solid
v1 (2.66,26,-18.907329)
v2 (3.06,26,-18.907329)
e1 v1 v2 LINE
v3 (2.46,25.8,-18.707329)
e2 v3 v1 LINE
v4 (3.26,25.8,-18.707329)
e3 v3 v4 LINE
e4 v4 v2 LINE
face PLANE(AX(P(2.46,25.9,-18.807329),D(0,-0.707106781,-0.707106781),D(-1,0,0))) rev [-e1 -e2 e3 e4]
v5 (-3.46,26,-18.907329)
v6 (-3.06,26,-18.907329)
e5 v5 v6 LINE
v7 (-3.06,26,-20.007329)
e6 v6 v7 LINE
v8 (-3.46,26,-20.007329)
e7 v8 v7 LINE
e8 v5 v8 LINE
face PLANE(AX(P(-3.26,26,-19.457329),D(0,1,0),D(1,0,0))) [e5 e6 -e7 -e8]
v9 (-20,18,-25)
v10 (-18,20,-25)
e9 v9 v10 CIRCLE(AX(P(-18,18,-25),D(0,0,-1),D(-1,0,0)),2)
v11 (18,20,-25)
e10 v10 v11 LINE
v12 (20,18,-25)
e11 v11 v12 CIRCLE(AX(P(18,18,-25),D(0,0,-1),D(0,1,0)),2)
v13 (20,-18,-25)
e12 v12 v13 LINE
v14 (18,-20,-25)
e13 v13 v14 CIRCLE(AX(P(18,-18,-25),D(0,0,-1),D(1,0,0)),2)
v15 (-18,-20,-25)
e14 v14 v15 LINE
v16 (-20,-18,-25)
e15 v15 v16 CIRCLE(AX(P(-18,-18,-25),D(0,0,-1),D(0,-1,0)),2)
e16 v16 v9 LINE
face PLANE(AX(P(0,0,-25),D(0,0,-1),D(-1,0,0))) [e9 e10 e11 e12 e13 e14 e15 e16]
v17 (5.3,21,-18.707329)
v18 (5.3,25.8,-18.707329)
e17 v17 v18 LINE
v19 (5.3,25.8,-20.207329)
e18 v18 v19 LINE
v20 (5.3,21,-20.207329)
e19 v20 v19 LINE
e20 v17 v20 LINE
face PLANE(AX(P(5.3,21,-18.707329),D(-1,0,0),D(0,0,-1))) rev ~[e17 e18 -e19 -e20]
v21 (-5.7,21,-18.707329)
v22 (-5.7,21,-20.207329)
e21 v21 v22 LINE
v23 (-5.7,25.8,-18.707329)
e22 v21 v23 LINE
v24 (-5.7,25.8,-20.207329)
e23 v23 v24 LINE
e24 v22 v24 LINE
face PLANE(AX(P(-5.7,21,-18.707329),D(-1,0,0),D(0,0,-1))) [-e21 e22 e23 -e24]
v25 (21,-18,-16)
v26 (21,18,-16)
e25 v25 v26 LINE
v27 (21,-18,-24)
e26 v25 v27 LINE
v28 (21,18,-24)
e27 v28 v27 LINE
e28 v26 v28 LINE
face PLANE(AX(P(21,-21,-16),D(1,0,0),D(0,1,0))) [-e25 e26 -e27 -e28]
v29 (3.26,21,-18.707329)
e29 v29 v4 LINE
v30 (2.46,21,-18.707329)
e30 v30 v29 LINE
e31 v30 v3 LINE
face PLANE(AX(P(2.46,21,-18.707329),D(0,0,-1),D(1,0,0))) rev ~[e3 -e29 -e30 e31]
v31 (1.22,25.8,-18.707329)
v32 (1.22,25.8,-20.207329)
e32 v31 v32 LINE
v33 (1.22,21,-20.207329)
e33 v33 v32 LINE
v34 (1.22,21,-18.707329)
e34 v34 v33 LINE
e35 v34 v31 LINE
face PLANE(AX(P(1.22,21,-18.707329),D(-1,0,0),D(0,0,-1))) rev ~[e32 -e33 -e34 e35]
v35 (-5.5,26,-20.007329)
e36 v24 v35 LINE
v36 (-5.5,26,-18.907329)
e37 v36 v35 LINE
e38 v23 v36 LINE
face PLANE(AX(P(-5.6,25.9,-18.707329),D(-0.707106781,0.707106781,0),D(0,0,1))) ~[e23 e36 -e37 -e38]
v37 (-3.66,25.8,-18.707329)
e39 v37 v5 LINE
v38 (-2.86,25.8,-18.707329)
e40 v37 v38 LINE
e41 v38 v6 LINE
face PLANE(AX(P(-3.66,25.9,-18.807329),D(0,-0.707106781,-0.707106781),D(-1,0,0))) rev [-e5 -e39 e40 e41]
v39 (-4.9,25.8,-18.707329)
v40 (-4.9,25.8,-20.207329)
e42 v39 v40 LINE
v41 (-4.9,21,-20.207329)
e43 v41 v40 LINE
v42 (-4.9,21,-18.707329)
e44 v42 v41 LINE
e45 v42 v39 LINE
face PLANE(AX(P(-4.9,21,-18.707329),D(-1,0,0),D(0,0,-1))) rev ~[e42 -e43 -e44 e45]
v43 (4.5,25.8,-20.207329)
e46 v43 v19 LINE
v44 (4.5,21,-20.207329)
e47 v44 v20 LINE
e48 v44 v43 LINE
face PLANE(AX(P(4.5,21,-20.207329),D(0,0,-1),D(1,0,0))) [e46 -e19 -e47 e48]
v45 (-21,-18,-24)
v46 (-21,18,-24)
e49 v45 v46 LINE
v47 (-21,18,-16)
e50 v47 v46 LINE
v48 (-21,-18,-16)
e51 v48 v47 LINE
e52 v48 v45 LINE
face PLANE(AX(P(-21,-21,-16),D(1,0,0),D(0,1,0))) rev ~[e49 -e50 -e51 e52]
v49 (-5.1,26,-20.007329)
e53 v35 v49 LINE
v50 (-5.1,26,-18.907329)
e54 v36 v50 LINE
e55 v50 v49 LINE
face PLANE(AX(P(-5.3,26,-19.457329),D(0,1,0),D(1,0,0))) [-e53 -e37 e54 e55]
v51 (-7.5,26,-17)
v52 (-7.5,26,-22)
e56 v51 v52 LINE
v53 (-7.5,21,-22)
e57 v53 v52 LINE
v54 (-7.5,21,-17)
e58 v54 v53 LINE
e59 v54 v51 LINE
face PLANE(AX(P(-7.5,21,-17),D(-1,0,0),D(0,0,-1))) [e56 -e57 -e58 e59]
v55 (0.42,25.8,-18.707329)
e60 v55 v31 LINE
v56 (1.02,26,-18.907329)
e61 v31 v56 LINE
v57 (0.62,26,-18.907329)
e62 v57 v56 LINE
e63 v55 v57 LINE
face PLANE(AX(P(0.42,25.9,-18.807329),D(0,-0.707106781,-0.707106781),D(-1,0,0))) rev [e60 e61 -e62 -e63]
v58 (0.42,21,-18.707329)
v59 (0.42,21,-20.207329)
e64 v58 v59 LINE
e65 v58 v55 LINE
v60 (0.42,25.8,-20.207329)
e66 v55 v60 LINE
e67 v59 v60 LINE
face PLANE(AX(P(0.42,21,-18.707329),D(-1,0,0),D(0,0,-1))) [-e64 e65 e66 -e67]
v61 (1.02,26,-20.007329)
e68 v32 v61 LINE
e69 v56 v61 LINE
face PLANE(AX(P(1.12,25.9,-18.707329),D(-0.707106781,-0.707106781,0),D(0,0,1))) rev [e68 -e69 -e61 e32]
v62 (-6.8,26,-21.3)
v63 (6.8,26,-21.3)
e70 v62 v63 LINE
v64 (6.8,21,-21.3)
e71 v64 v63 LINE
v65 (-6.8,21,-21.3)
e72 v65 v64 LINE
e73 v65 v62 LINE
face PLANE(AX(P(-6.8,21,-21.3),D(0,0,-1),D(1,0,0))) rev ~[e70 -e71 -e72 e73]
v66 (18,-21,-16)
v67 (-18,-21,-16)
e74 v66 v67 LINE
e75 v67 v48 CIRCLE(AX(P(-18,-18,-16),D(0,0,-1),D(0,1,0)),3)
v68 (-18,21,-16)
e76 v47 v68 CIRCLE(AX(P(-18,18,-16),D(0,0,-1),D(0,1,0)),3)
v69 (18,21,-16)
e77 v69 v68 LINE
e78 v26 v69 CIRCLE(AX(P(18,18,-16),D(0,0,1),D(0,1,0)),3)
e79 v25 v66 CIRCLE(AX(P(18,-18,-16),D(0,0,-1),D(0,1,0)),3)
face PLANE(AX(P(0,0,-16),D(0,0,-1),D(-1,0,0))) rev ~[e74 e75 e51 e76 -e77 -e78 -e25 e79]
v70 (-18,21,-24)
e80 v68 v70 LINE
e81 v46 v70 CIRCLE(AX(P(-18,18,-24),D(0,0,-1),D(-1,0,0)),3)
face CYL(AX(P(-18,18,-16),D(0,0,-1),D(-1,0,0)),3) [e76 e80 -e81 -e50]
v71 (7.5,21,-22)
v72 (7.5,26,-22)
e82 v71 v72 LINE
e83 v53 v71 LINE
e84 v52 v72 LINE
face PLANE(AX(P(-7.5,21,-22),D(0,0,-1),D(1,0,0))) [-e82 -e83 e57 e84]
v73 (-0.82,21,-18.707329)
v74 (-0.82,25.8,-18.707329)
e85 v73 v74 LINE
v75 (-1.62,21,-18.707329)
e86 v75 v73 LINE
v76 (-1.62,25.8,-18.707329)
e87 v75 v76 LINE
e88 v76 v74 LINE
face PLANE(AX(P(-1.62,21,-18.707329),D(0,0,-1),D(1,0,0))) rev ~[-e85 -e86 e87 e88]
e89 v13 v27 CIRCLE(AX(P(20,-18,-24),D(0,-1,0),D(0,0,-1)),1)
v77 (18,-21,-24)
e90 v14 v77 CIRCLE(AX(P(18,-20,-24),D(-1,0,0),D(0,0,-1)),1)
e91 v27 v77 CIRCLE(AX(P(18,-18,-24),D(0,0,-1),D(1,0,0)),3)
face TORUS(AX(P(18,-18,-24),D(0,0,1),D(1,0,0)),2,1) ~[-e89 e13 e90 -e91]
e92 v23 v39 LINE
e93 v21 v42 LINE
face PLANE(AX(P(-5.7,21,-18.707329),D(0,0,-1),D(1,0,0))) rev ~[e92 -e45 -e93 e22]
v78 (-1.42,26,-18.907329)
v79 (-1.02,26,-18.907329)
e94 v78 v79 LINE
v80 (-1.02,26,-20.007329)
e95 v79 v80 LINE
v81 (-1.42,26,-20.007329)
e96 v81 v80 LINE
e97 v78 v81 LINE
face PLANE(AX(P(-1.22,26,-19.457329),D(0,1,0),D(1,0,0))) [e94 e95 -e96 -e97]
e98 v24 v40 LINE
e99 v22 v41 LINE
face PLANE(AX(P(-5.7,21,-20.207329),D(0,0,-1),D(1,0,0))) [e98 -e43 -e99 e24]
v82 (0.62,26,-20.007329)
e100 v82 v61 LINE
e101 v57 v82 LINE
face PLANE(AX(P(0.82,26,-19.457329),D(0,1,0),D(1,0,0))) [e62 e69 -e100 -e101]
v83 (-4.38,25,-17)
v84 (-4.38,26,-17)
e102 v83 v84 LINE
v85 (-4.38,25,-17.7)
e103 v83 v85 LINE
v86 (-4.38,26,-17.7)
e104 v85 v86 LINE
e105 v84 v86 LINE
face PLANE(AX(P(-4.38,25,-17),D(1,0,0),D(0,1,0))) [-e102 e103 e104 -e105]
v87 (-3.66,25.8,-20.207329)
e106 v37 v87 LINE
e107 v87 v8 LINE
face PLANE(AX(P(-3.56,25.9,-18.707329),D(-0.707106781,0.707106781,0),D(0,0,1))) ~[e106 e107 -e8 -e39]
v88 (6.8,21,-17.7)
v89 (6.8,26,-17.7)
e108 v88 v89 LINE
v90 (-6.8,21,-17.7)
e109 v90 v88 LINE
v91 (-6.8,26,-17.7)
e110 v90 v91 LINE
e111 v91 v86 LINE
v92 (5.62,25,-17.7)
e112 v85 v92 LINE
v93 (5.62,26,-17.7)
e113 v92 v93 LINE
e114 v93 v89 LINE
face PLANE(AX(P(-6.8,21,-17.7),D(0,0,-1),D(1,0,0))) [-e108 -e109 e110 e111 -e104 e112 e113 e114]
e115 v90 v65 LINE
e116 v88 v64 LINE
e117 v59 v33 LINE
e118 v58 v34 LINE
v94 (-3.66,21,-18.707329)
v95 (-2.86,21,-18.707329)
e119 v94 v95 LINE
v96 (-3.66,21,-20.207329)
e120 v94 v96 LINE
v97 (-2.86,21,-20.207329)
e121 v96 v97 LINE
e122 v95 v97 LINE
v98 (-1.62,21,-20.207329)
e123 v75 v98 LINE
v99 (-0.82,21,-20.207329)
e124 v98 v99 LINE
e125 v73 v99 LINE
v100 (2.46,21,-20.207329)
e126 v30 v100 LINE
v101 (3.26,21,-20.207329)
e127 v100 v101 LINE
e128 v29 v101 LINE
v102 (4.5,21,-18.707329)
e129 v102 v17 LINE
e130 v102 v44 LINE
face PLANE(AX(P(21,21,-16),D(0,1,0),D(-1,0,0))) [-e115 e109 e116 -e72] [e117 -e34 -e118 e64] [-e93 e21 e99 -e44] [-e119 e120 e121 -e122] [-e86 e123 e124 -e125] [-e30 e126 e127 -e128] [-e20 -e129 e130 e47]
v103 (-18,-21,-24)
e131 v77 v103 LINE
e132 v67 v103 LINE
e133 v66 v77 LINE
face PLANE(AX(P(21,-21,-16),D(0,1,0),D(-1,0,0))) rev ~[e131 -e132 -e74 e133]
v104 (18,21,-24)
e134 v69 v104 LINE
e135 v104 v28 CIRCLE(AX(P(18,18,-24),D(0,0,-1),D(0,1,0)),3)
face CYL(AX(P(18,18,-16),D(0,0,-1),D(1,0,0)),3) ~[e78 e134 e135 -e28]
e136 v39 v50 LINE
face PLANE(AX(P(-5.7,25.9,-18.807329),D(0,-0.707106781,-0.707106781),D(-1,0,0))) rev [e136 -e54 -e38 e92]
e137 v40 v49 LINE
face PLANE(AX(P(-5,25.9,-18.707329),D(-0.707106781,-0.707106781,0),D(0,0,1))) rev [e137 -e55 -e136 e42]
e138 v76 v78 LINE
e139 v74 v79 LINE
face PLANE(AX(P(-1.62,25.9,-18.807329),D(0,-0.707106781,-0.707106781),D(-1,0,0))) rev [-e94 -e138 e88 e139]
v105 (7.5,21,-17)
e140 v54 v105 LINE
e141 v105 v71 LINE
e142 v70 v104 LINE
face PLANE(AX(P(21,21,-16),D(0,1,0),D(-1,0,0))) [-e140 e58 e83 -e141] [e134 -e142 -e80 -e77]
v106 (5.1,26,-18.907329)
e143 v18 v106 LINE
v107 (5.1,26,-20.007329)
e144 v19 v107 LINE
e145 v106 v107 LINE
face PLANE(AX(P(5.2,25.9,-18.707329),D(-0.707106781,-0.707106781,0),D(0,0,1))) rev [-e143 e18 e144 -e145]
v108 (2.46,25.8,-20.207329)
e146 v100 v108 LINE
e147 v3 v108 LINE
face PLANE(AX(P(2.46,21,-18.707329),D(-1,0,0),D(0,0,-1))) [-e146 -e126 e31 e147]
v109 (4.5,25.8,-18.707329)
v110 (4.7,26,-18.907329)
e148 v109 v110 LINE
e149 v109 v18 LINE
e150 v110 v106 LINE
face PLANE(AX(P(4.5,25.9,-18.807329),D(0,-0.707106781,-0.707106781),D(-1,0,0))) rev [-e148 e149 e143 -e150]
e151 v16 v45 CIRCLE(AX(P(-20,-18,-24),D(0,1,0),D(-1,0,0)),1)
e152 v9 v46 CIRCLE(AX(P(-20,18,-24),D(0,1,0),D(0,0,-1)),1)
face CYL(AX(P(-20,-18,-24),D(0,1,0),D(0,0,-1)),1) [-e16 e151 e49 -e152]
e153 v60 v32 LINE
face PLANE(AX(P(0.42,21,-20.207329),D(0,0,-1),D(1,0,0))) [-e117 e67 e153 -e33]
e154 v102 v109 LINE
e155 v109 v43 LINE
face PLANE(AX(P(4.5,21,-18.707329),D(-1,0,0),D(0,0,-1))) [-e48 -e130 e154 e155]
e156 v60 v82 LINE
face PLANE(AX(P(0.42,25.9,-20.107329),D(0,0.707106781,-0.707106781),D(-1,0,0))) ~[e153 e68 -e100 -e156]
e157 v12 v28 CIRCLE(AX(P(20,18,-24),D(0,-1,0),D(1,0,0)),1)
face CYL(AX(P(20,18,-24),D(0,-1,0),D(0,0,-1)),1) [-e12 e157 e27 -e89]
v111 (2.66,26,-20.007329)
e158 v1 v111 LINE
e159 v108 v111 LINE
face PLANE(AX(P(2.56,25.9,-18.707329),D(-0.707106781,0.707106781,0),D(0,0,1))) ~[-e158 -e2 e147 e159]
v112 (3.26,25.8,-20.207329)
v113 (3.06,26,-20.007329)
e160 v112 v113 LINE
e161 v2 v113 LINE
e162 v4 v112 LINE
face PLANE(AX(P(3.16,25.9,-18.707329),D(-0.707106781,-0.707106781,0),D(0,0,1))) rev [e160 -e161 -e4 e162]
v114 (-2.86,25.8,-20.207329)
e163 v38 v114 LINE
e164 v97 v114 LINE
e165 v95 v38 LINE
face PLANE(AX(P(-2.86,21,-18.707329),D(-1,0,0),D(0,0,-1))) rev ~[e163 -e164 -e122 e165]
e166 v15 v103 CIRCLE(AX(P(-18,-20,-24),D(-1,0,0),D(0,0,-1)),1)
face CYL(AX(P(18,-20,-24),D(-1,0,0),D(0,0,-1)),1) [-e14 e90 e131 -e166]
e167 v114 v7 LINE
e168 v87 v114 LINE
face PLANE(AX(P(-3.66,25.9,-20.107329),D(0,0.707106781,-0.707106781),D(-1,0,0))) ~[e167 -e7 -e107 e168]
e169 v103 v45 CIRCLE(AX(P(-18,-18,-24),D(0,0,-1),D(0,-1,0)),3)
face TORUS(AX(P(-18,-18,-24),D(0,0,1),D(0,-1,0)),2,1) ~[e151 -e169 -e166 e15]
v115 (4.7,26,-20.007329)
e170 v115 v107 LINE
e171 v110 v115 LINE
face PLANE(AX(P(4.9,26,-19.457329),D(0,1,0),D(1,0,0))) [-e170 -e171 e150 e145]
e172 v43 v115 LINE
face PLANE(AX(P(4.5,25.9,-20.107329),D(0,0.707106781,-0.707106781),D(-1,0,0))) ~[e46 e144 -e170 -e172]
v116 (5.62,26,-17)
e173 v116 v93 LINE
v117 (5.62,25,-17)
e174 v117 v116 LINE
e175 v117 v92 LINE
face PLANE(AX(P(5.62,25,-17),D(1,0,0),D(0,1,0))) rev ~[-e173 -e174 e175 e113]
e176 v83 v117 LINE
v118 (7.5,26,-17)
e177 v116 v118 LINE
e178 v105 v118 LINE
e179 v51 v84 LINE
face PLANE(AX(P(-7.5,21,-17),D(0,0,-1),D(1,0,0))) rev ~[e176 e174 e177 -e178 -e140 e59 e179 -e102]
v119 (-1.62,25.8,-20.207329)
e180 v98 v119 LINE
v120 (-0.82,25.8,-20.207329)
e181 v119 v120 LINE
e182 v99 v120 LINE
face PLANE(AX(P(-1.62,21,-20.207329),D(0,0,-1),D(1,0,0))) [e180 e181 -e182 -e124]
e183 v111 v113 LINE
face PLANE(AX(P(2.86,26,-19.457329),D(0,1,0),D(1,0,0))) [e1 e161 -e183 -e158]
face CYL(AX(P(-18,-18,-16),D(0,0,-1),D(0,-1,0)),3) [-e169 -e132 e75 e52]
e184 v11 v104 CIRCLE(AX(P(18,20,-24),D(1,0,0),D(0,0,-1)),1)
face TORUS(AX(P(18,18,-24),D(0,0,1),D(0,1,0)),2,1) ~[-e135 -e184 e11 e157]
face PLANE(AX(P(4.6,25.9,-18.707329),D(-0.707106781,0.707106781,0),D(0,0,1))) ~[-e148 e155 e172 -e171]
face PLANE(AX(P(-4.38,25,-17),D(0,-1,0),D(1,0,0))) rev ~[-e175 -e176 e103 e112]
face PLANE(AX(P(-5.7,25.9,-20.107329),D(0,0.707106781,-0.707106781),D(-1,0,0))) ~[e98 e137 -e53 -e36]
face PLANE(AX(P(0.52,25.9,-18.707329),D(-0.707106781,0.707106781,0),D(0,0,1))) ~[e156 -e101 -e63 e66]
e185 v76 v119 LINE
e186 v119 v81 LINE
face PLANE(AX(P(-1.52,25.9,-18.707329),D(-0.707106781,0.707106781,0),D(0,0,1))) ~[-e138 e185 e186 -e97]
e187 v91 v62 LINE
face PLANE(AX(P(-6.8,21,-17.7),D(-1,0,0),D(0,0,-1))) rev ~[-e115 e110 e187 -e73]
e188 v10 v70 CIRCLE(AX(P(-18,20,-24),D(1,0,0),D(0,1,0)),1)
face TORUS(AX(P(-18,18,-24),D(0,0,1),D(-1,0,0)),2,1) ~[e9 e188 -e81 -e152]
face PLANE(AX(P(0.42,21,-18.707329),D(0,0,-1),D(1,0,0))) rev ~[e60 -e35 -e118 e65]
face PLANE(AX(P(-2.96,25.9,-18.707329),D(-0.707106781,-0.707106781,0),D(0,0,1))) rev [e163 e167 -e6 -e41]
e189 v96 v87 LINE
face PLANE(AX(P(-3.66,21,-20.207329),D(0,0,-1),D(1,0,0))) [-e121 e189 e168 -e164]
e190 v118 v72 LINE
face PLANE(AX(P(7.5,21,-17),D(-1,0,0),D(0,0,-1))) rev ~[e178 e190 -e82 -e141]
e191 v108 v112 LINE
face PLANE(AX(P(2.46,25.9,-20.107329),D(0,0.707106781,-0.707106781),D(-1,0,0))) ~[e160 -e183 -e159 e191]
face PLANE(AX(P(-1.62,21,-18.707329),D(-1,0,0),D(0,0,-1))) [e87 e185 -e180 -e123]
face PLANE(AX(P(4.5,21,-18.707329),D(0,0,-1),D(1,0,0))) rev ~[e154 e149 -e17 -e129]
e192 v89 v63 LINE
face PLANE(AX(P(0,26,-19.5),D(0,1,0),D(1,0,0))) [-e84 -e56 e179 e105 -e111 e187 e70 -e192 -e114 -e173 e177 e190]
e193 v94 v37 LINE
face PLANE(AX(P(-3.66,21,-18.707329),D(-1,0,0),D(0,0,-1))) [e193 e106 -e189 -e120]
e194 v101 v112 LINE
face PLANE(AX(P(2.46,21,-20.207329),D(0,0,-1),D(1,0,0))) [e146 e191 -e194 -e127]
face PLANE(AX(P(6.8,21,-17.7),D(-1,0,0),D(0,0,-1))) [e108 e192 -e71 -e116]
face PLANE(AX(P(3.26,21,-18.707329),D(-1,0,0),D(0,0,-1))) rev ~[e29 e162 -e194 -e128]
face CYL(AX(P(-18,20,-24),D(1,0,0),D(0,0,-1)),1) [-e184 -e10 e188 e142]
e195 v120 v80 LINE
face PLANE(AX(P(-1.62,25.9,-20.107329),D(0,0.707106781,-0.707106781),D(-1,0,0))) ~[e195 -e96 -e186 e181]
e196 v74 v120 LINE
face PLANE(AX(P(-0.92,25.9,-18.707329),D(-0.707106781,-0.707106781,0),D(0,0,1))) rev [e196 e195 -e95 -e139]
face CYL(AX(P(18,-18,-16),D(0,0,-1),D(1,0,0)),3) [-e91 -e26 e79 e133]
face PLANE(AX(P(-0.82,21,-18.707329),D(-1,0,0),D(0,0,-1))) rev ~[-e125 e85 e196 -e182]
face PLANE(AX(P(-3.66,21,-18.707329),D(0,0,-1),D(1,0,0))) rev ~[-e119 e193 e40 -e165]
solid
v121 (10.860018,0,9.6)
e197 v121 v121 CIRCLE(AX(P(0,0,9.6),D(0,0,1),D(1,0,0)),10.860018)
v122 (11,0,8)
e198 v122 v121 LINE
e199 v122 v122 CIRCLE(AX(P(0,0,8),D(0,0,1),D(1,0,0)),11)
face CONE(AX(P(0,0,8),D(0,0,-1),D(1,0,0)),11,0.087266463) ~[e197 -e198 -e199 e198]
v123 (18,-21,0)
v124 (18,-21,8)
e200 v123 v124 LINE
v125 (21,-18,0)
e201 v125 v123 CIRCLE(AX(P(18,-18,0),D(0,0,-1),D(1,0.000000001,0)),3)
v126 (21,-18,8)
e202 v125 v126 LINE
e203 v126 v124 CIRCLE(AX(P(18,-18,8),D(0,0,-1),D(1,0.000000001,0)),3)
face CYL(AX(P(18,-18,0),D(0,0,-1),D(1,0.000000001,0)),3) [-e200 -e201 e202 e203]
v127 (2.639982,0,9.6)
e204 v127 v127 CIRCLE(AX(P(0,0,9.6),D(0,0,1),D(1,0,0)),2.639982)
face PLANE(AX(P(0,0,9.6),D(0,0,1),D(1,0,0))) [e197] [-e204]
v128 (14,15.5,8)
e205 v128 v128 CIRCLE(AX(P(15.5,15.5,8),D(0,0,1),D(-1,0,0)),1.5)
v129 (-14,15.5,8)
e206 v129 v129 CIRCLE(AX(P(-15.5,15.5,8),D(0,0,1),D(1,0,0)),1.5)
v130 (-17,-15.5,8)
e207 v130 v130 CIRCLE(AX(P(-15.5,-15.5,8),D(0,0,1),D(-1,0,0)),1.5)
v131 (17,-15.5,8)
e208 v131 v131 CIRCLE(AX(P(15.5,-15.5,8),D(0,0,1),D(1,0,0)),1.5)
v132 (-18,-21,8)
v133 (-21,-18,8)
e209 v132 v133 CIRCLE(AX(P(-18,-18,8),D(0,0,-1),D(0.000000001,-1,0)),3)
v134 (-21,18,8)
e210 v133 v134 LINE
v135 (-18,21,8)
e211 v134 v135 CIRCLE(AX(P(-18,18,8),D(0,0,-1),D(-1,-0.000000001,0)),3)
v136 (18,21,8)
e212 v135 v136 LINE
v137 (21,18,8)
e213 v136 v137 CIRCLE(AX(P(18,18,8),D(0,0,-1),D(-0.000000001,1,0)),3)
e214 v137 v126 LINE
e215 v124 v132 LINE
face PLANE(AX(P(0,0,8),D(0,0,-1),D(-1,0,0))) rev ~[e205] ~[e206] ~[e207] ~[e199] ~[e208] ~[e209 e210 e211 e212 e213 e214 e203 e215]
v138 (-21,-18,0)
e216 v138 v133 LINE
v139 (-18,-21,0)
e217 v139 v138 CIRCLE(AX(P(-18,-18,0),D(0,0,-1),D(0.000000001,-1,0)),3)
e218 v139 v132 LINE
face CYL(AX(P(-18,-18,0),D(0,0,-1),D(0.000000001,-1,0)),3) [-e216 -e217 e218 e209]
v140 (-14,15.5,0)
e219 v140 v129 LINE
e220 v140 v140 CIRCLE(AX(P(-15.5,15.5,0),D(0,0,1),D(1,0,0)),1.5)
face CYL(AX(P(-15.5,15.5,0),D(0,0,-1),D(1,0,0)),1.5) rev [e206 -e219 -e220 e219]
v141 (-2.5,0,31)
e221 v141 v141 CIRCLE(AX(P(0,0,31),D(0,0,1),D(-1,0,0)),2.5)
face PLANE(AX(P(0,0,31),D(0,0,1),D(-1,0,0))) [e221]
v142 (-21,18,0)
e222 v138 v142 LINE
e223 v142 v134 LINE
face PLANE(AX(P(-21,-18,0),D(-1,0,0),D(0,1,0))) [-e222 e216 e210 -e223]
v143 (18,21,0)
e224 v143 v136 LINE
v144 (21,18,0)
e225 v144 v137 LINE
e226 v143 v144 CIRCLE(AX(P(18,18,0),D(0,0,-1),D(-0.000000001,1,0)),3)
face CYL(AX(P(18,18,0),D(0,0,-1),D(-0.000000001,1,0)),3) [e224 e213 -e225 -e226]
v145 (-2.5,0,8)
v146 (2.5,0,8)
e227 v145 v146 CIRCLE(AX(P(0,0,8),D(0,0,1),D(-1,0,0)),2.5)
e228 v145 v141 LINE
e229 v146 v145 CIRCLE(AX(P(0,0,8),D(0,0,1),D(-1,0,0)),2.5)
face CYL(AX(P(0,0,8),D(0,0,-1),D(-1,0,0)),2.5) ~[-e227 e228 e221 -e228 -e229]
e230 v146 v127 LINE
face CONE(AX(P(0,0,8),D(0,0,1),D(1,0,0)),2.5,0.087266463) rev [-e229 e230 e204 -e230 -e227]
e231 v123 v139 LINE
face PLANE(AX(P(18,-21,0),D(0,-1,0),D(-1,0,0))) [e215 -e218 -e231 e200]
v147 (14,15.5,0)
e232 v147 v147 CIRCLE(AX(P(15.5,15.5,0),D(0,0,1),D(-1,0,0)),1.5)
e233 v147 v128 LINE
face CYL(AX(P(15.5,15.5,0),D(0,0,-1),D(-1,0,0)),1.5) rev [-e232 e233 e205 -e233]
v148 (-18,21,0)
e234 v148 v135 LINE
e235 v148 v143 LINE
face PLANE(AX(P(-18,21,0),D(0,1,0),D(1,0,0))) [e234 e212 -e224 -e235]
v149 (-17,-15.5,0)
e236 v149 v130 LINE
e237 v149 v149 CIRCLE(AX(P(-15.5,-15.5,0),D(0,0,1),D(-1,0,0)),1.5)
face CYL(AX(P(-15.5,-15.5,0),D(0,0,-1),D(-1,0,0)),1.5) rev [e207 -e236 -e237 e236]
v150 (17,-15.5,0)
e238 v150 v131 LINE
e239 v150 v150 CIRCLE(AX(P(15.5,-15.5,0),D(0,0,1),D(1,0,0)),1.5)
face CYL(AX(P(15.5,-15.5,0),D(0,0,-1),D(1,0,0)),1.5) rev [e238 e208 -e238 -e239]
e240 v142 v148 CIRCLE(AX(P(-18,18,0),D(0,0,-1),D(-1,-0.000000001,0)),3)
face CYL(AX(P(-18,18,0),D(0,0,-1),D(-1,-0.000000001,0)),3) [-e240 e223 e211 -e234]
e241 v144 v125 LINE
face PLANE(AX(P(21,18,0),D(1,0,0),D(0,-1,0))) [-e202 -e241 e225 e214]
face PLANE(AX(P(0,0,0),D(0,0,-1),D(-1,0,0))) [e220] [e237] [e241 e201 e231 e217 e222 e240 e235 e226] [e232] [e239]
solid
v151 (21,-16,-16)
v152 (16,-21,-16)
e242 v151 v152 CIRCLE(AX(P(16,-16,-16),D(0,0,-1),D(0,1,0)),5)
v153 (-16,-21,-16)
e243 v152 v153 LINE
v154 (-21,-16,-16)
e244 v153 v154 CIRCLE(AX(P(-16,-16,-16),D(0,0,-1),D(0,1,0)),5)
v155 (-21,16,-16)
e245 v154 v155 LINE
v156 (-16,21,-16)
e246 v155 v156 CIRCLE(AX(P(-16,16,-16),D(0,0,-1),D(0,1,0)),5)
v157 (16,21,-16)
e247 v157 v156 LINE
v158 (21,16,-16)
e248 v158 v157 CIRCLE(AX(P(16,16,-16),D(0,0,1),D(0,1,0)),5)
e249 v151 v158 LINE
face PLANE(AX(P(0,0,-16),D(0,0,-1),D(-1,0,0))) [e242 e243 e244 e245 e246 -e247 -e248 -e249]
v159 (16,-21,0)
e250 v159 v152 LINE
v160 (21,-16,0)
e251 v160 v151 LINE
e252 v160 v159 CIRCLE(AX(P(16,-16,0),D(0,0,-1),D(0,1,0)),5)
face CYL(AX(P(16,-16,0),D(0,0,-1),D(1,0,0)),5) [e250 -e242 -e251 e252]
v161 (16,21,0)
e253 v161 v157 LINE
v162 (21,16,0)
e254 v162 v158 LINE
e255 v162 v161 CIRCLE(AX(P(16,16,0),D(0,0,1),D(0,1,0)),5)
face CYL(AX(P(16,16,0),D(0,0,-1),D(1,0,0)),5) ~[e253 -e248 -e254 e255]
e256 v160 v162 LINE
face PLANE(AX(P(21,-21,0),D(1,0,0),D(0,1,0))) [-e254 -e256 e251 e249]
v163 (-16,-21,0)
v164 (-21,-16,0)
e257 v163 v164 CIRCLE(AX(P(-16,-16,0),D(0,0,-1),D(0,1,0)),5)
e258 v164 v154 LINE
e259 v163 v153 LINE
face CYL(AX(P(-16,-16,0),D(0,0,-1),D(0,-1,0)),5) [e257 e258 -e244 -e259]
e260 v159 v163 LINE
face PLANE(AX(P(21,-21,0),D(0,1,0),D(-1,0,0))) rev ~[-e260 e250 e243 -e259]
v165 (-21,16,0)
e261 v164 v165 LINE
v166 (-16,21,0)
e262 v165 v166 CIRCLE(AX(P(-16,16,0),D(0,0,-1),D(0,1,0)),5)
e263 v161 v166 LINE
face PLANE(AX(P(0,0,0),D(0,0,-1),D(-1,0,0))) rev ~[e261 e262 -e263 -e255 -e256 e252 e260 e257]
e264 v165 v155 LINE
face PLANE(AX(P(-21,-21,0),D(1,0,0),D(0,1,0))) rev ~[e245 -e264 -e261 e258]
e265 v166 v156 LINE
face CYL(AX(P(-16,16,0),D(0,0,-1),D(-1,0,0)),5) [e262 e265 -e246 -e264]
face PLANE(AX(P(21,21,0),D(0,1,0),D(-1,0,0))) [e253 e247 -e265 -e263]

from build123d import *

# Parameters (mm, degrees)
SKETCH_1_R          = 1.5
EXTRUDE_1_DEPTH     = 8
SKETCH_4_R          = 2.5
EXTRUDE_2_DEPTH     = 23
SKETCH_9_W          = 42
SKETCH_9_H          = 42
EXTRUDE_7_DEPTH     = 16
SKETCH_10_W         = 42
SKETCH_10_H         = 42
EXTRUDE_8_DEPTH     = 9
FILLET_1_R          = 3
FILLET_2_R          = 5
SKETCH_14_W         = 15
SKETCH_14_H         = 5
SKETCH_14_W_2       = 13.6
SKETCH_14_H_2       = 3.6
SKETCH_14_W_3       = 0.8
SKETCH_14_H_3       = 1.5
EXTRUDE_10_DEPTH    = 5
CHAMFER_1_SIZE      = 0.2
SKETCH_15_W         = 10
SKETCH_15_H         = 1
CUT_EXTRUDE_2_DEPTH = 0.7
FILLET_3_R          = 1
SKETCH_16_R         = 11
SKETCH_16_R_2       = 2.5
EXTRUDE_11_DEPTH    = 1.6
EXTRUDE_11_DRAFT    = 5


with BuildPart() as part:
    # 草图1 → 凸台-拉伸1 (new body)
    with BuildSketch(Plane.XY):
        with BuildLine():
            Line((-18, 21), (18, 21))
            ThreePointArc((18, 21), (20.121320344, 20.121320344), (21, 18))
            Line((21, 18), (21, -18))
            ThreePointArc((21, -18), (20.121320344, -20.121320344), (18, -21))
            Line((18, -21), (-18, -21))
            ThreePointArc((-18, -21), (-20.121320344, -20.121320344), (-21, -18))
            Line((-21, -18), (-21, 18))
            ThreePointArc((-21, 18), (-20.121320344, 20.121320344), (-18, 21))
        make_face()
        with Locations((-15.5, 15.5)):
            Circle(SKETCH_1_R, mode=Mode.SUBTRACT)
        with Locations(Location((15.5, 15.5, 0), (0, 0, 180))):
            Circle(SKETCH_1_R, mode=Mode.SUBTRACT)
        with Locations((15.5, -15.5)):
            Circle(SKETCH_1_R, mode=Mode.SUBTRACT)
        with Locations(Location((-15.5, -15.5, 0), (0, 0, 180))):
            Circle(SKETCH_1_R, mode=Mode.SUBTRACT)
    extrude(amount=EXTRUDE_1_DEPTH)

    # 草图4 → 凸台-拉伸2 (add)
    with BuildSketch(Plane.XY.offset(8)):
        with Locations(Location((0, 0, 0), (0, 0, 180))):
            Circle(SKETCH_4_R)
    extrude(amount=EXTRUDE_2_DEPTH)


with BuildPart() as body_2:
    # 草图9 → 凸台-拉伸7 (new body)
    with BuildSketch(Plane(origin=(0, 0, 0), x_dir=(-1, 0, 0), z_dir=(0, 0, -1))):
        Rectangle(SKETCH_9_W, SKETCH_9_H)
    extrude(amount=EXTRUDE_7_DEPTH)

    # 圆角2
    fillet_2_edges = [body_2.edges().sort_by_distance(p)[0] for p in [
        (-21, -21, -8),
        (21, -21, -8),
        (21, 21, -8),
        (-21, 21, -8),
    ]]
    fillet(fillet_2_edges, radius=FILLET_2_R)


with BuildPart() as body_3:
    # 草图10 → 凸台-拉伸8 (new body)
    with BuildSketch(Plane(origin=(0, 0, -16), x_dir=(-1, 0, 0), z_dir=(0, 0, -1))):
        Rectangle(SKETCH_10_W, SKETCH_10_H)
    extrude(amount=EXTRUDE_8_DEPTH)

    # 圆角1
    fillet_1_edges = [body_3.edges().sort_by_distance(p)[0] for p in [
        (21, 21, -20.5),
        (-21, 21, -20.5),
        (-21, -21, -20.5),
        (21, -21, -20.5),
    ]]
    fillet(fillet_1_edges, radius=FILLET_1_R)

    # 草图14 → 凸台-拉伸10 (add)
    # profile 1 of 7: a face of its own
    with BuildSketch(Plane(origin=(0, 21, 0), x_dir=(1, 0, 0), z_dir=(0, 1, 0))):
        with Locations((0, 19.5)):
            Rectangle(SKETCH_14_W, SKETCH_14_H)
        with Locations((0, 19.5)):
            Rectangle(SKETCH_14_W_2, SKETCH_14_H_2, mode=Mode.SUBTRACT)
    # profile 2 of 7: a face of its own
    with BuildSketch(Plane(origin=(0, 21, 0), x_dir=(1, 0, 0), z_dir=(0, 1, 0))):
        with Locations((-5.3, 19.457329348)):
            Rectangle(SKETCH_14_W_3, SKETCH_14_H_3)
    # profile 3 of 7: a face of its own
    with BuildSketch(Plane(origin=(0, 21, 0), x_dir=(1, 0, 0), z_dir=(0, 1, 0))):
        with Locations((-1.22, 19.457329348)):
            Rectangle(SKETCH_14_W_3, SKETCH_14_H_3)
    # profile 4 of 7: a face of its own
    with BuildSketch(Plane(origin=(0, 21, 0), x_dir=(1, 0, 0), z_dir=(0, 1, 0))):
        with Locations((4.9, 19.457329348)):
            Rectangle(SKETCH_14_W_3, SKETCH_14_H_3)
    # profile 5 of 7: a face of its own
    with BuildSketch(Plane(origin=(0, 21, 0), x_dir=(1, 0, 0), z_dir=(0, 1, 0))):
        with Locations((2.86, 19.457329348)):
            Rectangle(SKETCH_14_W_3, SKETCH_14_H_3)
    # profile 6 of 7: a face of its own
    with BuildSketch(Plane(origin=(0, 21, 0), x_dir=(1, 0, 0), z_dir=(0, 1, 0))):
        with Locations((-3.26, 19.457329348)):
            Rectangle(SKETCH_14_W_3, SKETCH_14_H_3)
    # profile 7 of 7: a face of its own
    with BuildSketch(Plane(origin=(0, 21, 0), x_dir=(1, 0, 0), z_dir=(0, 1, 0))):
        with Locations((0.82, 19.457329348)):
            Rectangle(SKETCH_14_W_3, SKETCH_14_H_3)
    extrude(amount=EXTRUDE_10_DEPTH)

    # 倒角1
    chamfer_1_edges = [body_3.edges().sort_by_distance(p)[0] for p in [
        (-2.86, 26, -19.457329348),
        (-3.26, 26, -20.207329348),
        (-3.66, 26, -19.457329348),
        (-3.26, 26, -18.707329348),
        (1.22, 26, -19.457329348),
        (0.82, 26, -20.207329348),
        (0.42, 26, -19.457329348),
        (0.82, 26, -18.707329348),
        (-4.9, 26, -19.457329348),
        (-5.3, 26, -20.207329348),
        (-5.7, 26, -19.457329348),
        (-5.3, 26, -18.707329348),
        (-0.82, 26, -19.457329348),
        (-1.22, 26, -20.207329348),
        (-1.62, 26, -19.457329348),
        (-1.22, 26, -18.707329348),
        (5.3, 26, -19.457329348),
        (4.9, 26, -20.207329348),
        (4.5, 26, -19.457329348),
        (4.9, 26, -18.707329348),
        (3.26, 26, -19.457329348),
        (2.86, 26, -20.207329348),
        (2.46, 26, -19.457329348),
        (2.86, 26, -18.707329348),
    ]]
    chamfer(chamfer_1_edges, length=CHAMFER_1_SIZE)

    # 草图15 → 切除-拉伸2 (cut)
    with BuildSketch(Plane.XY.offset(-17)):
        with Locations((0.62, 25.5)):
            Rectangle(SKETCH_15_W, SKETCH_15_H)
    extrude(amount=-CUT_EXTRUDE_2_DEPTH, mode=Mode.SUBTRACT)

    # 圆角3
    fillet_3_edges = [body_3.edges().sort_by_distance(p)[0] for p in [
        (0, -21, -25),
        (21, 0, -25),
        (-21, 0, -25),
        (0, 21, -25),
        (20.121320344, 20.121320344, -25),
        (-20.121320344, 20.121320344, -25),
        (-20.121320344, -20.121320344, -25),
        (20.121320344, -20.121320344, -25),
    ]]
    fillet(fillet_3_edges, radius=FILLET_3_R)


with BuildPart() as extrude_11_tool:
    # 草图16 → 凸台-拉伸11 (with draft: the straight prism first)
    with BuildSketch(Plane.XY.offset(8)):
        Circle(SKETCH_16_R)
        Circle(SKETCH_16_R_2, mode=Mode.SUBTRACT)
    extrude(amount=EXTRUDE_11_DEPTH)
    # 凸台-拉伸11: the draft: its side faces are tilted about the plane it starts from
    extrude_11_sides = [extrude_11_tool.faces().sort_by_distance(p)[0] for p in [
        (-11, 0, 8.8),
        (-2.5, 0, 8.8),
    ]]
    draft(extrude_11_sides, Plane.XY.offset(8), EXTRUDE_11_DRAFT)


with BuildPart() as part_1:
    add(part.part)

    # 凸台-拉伸11: add extrude_11_tool
    add(extrude_11_tool.part)


solid = Compound([body_2.part, body_3.part, part_1.part])
